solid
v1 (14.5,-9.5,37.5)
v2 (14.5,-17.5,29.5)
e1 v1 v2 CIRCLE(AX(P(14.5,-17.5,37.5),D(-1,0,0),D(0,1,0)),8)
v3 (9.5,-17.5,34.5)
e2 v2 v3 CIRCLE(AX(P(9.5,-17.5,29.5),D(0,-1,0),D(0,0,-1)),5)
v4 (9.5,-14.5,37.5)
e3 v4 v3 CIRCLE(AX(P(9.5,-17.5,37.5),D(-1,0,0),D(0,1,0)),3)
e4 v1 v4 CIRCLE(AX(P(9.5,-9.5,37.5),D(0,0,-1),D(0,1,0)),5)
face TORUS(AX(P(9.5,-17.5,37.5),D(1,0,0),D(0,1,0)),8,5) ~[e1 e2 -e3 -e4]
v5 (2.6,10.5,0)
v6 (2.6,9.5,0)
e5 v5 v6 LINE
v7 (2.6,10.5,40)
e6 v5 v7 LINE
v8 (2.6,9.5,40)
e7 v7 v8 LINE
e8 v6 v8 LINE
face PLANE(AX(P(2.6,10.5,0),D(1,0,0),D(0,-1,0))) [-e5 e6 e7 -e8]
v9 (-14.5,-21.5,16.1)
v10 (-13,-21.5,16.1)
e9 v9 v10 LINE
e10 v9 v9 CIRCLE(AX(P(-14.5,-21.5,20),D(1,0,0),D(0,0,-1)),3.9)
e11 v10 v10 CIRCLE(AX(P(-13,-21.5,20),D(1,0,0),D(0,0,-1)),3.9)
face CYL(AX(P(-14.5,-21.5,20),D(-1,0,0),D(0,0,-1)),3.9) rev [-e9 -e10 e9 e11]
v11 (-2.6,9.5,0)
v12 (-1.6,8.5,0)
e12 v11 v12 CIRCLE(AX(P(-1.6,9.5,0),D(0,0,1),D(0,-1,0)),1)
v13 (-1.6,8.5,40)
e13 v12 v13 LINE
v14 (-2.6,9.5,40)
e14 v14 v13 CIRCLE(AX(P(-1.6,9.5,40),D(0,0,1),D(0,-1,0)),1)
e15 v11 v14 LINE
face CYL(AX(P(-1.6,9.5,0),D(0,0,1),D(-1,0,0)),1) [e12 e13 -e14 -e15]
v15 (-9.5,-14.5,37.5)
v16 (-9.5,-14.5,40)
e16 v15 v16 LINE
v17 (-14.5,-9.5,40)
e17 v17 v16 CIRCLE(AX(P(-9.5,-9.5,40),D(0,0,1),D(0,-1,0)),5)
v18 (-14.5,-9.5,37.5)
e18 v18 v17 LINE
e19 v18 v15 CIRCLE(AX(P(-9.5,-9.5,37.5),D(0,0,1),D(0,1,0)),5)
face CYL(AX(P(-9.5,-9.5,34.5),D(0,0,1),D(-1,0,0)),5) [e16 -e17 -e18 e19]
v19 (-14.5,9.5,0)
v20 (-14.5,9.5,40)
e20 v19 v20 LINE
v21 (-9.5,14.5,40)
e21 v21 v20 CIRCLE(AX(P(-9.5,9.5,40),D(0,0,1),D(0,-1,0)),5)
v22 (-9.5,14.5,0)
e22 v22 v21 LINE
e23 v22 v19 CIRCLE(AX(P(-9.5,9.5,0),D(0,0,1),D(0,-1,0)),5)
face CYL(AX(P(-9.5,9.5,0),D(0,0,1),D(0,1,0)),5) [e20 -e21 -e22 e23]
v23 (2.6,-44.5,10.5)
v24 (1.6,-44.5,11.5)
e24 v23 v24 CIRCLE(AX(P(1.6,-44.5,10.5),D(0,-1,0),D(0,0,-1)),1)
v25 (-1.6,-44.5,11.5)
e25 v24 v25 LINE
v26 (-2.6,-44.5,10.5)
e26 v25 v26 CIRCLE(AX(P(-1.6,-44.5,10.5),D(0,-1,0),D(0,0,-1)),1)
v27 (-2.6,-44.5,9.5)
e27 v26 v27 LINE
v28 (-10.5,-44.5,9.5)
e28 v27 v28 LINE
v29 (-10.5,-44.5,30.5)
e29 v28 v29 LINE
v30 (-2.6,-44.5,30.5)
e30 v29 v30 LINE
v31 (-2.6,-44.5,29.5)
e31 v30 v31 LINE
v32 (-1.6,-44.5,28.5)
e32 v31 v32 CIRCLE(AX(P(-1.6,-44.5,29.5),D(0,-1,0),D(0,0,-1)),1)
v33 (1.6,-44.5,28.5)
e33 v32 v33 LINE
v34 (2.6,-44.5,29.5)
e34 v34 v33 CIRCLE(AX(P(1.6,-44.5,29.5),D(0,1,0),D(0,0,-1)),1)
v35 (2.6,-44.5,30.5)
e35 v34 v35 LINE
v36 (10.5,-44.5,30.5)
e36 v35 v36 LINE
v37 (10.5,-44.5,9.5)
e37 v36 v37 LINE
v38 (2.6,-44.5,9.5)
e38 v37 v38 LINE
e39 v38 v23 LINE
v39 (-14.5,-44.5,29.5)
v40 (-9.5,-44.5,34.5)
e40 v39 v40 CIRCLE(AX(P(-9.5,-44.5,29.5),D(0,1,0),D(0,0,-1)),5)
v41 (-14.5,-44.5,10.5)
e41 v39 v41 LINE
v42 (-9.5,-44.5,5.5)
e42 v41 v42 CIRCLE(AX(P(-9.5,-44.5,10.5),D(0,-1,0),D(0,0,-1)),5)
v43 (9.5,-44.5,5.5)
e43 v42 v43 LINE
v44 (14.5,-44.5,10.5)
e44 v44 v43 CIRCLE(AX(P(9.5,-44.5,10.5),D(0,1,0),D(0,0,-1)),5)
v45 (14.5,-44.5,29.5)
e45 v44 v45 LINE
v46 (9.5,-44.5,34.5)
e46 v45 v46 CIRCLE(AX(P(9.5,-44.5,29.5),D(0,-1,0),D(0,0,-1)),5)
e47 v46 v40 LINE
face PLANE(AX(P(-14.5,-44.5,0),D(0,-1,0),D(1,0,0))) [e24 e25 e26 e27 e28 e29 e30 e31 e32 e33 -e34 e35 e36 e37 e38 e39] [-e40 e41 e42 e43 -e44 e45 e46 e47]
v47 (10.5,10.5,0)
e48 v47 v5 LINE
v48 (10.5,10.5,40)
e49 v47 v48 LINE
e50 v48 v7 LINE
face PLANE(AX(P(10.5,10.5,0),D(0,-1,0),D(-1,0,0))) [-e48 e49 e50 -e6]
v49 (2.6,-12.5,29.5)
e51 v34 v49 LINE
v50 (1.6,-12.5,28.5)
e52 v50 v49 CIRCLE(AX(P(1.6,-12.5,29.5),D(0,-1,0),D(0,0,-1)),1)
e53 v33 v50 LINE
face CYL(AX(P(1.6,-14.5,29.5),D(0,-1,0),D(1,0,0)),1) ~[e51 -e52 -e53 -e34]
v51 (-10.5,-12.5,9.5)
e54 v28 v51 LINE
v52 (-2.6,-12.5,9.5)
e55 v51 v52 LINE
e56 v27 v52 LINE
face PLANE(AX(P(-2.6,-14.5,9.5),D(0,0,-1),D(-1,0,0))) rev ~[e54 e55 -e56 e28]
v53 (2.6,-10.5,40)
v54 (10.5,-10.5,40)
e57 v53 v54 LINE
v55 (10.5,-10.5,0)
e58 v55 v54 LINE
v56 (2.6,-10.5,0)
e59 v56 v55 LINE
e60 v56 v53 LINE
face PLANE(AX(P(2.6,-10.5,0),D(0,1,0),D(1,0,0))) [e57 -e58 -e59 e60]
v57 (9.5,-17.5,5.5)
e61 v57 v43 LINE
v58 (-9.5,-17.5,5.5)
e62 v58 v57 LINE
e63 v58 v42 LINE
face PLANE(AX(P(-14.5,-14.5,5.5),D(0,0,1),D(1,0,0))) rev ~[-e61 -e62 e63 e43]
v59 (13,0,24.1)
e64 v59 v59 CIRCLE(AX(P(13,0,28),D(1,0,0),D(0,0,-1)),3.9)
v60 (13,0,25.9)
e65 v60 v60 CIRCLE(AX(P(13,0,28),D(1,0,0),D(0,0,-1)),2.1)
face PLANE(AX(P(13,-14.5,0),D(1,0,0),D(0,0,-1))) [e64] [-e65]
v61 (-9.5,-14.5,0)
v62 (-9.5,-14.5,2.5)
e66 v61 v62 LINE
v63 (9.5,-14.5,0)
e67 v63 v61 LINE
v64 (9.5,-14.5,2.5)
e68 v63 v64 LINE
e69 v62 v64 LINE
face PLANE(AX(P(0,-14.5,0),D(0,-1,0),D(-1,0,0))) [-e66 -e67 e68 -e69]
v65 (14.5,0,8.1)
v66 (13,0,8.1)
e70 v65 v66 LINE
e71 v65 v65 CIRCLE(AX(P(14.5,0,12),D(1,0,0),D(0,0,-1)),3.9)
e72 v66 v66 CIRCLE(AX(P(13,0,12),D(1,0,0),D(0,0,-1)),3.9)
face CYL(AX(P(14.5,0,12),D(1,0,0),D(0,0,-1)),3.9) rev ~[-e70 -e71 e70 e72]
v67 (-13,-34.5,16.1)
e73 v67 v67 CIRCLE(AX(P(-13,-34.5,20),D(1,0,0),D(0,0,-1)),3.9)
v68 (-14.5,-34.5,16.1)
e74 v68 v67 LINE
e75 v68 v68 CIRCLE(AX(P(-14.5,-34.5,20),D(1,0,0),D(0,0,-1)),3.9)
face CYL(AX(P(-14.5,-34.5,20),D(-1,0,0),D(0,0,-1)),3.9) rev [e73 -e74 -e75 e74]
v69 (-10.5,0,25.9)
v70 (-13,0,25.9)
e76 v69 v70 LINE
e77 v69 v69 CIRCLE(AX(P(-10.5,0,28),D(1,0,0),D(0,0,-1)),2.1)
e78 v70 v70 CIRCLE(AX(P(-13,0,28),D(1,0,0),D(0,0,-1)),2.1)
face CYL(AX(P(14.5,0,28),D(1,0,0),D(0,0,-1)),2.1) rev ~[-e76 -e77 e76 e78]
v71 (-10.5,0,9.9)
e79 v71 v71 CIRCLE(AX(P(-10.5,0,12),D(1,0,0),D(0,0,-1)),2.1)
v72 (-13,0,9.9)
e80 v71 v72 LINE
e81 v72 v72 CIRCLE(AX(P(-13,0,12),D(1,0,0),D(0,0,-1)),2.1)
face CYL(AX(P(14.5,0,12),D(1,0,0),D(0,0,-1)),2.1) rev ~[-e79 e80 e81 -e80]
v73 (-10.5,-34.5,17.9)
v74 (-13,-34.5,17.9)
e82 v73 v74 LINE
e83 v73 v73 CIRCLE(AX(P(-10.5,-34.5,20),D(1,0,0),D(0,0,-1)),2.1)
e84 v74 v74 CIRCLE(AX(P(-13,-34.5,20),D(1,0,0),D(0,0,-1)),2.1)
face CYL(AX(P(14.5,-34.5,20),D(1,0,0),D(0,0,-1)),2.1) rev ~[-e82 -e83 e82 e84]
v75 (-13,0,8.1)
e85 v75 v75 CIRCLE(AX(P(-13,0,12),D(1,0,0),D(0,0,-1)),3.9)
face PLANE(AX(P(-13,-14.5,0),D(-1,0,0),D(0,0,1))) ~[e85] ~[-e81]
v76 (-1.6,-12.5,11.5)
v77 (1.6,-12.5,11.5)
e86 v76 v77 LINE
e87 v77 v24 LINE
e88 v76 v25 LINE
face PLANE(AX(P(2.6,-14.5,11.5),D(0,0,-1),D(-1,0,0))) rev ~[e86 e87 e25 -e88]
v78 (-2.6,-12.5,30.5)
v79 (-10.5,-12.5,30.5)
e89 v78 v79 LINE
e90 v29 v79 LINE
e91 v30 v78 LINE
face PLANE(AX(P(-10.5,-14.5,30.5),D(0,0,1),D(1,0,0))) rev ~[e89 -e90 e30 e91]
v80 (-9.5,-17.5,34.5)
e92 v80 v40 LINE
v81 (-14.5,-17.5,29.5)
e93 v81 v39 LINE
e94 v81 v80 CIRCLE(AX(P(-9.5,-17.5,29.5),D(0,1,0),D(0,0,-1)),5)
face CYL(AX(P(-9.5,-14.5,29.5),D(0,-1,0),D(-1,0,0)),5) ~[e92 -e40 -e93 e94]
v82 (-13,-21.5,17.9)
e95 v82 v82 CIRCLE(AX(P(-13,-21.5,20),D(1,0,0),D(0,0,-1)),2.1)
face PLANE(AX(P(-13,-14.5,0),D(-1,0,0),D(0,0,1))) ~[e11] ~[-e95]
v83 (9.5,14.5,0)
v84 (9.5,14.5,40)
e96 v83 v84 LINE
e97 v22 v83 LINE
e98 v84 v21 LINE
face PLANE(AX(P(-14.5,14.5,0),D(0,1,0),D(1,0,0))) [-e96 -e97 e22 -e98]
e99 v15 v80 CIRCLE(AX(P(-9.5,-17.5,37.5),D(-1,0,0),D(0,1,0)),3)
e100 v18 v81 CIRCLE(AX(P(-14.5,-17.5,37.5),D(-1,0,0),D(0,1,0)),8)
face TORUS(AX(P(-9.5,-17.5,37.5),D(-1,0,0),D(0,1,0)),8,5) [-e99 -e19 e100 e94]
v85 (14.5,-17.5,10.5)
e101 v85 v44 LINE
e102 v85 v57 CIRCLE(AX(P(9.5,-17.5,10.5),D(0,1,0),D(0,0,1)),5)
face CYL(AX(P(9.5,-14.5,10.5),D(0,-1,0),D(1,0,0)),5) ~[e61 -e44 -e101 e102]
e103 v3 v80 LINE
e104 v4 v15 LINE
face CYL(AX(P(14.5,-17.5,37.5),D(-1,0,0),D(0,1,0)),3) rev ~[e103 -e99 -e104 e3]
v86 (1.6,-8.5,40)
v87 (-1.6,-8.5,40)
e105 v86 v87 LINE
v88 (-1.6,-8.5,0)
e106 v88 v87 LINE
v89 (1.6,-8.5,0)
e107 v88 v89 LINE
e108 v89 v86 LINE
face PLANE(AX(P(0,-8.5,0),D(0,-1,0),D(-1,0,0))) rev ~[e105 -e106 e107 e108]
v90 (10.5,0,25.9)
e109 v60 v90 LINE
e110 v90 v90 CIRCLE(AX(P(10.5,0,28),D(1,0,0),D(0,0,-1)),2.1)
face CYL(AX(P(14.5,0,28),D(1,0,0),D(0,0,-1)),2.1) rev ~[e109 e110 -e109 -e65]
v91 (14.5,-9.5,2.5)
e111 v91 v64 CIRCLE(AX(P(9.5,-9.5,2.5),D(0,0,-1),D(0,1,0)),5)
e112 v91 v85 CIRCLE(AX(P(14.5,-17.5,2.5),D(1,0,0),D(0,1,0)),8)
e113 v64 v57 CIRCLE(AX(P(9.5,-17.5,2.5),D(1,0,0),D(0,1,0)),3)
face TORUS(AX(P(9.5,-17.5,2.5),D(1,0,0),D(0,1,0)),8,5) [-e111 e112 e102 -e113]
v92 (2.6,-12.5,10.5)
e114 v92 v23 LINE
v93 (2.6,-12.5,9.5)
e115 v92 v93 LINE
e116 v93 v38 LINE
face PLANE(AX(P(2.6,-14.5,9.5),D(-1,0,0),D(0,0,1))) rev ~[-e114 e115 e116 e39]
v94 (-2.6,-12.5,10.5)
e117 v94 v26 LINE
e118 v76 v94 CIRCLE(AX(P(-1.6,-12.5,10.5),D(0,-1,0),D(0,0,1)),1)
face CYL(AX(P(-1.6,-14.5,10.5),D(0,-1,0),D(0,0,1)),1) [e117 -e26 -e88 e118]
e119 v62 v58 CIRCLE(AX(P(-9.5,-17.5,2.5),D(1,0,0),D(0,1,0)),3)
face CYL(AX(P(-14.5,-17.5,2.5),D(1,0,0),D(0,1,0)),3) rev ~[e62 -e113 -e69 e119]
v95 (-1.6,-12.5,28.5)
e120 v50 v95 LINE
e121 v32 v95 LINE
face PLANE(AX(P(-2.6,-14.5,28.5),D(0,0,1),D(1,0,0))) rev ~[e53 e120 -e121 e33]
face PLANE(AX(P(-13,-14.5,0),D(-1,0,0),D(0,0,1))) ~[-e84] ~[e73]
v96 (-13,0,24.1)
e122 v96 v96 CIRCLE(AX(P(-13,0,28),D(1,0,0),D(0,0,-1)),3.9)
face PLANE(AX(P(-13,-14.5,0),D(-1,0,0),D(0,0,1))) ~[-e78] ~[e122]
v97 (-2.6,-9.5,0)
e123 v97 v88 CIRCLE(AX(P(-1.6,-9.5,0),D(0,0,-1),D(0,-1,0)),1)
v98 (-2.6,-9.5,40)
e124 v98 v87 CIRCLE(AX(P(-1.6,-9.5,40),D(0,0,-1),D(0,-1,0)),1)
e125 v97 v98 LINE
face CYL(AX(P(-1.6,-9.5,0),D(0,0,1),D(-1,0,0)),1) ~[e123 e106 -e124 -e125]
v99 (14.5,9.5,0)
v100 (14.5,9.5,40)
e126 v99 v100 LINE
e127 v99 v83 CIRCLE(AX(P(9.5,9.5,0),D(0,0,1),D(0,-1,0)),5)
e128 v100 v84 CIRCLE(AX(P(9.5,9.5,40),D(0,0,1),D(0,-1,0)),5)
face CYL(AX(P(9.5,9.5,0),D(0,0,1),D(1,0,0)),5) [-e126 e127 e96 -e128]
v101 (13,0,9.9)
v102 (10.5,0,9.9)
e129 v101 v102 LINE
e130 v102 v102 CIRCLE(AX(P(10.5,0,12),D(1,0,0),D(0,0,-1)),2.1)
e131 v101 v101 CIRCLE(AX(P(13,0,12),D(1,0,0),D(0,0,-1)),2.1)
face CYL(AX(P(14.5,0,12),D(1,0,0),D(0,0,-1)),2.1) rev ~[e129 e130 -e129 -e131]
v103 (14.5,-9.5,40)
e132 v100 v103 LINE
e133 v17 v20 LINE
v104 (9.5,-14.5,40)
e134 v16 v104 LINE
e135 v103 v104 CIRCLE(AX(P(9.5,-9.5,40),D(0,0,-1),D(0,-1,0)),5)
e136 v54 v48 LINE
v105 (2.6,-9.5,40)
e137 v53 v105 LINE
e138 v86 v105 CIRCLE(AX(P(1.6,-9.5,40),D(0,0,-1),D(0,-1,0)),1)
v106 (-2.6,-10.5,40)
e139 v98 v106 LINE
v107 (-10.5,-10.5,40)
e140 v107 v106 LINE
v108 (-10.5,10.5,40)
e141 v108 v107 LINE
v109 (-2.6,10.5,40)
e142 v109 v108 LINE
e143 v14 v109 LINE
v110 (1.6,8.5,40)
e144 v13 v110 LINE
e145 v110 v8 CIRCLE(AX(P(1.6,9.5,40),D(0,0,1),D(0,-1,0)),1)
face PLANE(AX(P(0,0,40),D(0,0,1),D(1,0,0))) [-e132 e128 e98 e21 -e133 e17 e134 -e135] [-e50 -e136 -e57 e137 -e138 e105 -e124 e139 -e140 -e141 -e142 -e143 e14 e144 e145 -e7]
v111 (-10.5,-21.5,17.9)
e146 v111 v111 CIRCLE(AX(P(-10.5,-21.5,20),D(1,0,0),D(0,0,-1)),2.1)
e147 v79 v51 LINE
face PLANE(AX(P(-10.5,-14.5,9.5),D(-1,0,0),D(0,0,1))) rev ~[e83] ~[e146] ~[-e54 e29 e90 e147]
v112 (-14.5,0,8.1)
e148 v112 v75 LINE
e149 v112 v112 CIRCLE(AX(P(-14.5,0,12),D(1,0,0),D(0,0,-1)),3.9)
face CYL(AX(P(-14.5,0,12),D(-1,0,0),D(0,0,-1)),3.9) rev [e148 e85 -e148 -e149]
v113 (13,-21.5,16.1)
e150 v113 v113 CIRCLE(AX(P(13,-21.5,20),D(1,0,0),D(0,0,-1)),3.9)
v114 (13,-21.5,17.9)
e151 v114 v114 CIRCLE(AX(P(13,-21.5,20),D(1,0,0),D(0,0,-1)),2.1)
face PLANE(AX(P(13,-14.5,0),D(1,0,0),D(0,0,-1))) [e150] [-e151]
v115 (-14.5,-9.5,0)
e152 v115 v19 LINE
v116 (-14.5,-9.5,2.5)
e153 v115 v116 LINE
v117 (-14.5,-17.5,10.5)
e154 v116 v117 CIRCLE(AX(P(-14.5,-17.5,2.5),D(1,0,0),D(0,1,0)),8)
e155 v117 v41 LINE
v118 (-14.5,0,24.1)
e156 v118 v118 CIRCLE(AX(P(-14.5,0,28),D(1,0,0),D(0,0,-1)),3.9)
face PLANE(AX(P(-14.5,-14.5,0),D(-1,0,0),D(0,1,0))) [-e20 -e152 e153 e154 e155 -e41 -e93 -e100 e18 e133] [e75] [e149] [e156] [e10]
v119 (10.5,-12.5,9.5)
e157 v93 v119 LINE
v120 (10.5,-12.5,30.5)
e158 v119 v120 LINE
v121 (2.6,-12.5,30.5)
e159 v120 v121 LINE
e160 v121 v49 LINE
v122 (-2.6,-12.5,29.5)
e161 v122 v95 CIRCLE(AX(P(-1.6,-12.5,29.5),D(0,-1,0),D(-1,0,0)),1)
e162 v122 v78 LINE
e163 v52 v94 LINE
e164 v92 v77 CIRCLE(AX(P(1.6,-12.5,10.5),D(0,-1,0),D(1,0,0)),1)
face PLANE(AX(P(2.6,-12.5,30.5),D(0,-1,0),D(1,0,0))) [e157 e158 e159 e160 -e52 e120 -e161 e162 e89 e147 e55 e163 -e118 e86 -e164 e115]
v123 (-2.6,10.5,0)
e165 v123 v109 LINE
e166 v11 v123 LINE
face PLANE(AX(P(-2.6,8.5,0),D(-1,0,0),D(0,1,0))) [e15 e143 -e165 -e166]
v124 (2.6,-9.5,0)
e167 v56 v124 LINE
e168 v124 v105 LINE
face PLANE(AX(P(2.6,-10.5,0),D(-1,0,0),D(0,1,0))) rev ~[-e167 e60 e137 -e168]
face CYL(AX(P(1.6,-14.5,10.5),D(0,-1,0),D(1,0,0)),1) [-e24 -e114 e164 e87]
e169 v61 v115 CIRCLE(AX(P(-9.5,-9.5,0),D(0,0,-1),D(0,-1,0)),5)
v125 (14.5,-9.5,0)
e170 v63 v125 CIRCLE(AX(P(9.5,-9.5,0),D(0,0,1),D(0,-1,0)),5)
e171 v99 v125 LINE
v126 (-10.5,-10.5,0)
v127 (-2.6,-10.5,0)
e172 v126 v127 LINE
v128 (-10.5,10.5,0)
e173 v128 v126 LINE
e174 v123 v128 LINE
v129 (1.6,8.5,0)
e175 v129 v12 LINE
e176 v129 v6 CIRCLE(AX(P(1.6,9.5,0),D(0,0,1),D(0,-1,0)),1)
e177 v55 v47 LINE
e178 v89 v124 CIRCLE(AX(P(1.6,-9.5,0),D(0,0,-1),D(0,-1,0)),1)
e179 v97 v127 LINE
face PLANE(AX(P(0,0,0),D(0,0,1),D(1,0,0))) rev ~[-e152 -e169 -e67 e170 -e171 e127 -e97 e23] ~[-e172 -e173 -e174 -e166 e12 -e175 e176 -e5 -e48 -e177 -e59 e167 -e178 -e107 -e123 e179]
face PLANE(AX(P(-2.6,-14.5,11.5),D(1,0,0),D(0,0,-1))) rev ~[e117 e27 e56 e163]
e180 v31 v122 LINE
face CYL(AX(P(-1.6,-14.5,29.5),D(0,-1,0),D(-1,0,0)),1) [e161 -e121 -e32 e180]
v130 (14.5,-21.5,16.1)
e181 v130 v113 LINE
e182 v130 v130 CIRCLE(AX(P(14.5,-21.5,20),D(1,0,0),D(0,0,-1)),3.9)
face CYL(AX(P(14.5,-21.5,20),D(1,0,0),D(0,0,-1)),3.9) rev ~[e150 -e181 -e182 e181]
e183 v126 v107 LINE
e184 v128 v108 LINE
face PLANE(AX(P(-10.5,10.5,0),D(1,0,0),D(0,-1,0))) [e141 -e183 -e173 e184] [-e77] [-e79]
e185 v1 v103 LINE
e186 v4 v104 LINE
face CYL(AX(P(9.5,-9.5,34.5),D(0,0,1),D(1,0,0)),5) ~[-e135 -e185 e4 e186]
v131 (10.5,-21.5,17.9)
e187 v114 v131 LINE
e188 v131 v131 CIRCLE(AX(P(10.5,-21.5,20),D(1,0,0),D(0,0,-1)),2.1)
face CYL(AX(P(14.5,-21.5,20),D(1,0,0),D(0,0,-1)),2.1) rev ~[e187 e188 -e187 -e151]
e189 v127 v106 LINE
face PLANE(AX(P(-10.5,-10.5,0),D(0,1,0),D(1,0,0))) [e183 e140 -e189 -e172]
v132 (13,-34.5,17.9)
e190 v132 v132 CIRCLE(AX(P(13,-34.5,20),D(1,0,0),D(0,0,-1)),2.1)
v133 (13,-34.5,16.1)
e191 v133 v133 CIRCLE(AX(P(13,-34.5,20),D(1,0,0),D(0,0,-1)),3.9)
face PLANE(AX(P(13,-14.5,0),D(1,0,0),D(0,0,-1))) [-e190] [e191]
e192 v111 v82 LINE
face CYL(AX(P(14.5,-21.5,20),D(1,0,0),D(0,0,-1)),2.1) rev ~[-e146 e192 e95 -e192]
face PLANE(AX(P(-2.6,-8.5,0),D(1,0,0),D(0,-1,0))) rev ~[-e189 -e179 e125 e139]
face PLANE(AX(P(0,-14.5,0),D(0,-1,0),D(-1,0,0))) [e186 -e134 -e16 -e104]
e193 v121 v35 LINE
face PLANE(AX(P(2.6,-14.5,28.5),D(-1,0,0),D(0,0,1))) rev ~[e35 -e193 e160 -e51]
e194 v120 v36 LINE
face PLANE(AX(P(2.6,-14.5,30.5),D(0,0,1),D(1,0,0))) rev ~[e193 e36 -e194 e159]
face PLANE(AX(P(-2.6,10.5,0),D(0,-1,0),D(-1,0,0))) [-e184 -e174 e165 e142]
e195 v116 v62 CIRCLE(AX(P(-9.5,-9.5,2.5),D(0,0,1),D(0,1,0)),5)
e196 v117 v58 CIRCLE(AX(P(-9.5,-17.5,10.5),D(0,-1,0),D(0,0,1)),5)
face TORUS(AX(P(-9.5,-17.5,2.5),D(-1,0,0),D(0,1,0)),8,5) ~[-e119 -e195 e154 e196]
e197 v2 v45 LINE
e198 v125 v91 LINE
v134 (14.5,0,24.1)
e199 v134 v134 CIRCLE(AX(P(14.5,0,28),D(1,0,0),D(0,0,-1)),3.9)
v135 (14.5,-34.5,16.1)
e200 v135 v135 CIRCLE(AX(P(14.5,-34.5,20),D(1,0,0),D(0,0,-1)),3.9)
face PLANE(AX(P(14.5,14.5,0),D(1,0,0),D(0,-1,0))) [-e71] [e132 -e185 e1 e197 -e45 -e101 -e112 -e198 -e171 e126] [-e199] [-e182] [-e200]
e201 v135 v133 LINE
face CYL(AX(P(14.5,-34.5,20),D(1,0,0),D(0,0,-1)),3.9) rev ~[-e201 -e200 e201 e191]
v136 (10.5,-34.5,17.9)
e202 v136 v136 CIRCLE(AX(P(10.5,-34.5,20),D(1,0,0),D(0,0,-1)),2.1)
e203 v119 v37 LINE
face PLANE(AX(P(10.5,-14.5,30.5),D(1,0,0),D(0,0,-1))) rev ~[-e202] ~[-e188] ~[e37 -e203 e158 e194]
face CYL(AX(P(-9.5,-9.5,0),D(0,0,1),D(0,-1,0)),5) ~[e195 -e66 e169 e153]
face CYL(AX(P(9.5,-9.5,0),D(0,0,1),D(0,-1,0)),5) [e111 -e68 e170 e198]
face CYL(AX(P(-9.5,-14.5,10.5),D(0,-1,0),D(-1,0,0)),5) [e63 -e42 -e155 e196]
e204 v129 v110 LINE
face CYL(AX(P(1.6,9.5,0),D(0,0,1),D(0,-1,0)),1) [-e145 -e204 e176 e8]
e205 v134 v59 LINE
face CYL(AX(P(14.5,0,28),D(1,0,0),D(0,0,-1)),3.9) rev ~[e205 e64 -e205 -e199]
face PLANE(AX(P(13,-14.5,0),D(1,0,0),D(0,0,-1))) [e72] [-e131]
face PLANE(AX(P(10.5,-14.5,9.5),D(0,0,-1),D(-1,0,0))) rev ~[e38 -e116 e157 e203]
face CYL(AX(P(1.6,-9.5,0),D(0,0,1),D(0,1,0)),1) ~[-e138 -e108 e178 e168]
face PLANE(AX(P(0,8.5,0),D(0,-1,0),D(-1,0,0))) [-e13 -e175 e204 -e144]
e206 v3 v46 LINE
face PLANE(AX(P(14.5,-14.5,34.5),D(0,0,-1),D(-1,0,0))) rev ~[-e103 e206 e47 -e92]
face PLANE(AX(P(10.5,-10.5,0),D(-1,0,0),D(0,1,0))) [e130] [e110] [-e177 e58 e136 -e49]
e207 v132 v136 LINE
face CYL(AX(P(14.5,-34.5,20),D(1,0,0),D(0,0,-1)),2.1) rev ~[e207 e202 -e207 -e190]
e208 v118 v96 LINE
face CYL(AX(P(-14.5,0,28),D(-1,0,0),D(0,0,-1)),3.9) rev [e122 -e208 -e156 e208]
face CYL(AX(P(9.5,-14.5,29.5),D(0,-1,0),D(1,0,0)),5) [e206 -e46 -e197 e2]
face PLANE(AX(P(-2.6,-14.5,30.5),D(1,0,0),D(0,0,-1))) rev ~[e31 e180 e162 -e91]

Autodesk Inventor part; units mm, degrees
ref_plane "YZ Plane" through (0, 0, 0) normal (1, 0, 0) x (0, 1, 0)
ref_plane "XZ Plane" through (0, 0, 0) normal (0, 1, 0) x (-1, 0, 0)
sketch "스케치1" plane through (0, 0, 0) normal (0, 0, 1) x (1, 0, 0)
  line L0 (-10.5, -10.5) -> (10.5, -10.5)
  line L1 (10.5, -10.5) -> (10.5, 10.5)
  line L2 (10.5, 10.5) -> (-10.5, 10.5)
  line L3 (-10.5, 10.5) -> (-10.5, -10.5)
  line L4 (-10.5, -10.5) -> (10.5, 10.5) construction
  line L5 (10.5, -10.5) -> (-10.5, 10.5) construction
  line L6 (-2.6, 10.5) -> (2.6, 10.5)
  line L7 (2.6, 10.5) -> (2.6, 8.5)
  line L8 (2.6, 8.5) -> (-2.6, 8.5)
  line L9 (-2.6, 8.5) -> (-2.6, 10.5)
  line L10 (-2.6, -10.5) -> (2.6, -10.5)
  line L11 (2.6, -10.5) -> (2.6, -8.5)
  line L12 (2.6, -8.5) -> (-2.6, -8.5)
  line L13 (-2.6, -8.5) -> (-2.6, -10.5)
  line L14 (0, -20.3) -> (0, 20.3) projected
  line L15 (-14.5, 14.5) -> (14.5, 14.5)
  line L16 (14.5, 14.5) -> (14.5, -14.5)
  line L17 (14.5, -14.5) -> (-14.5, -14.5)
  line L18 (-14.5, -14.5) -> (-14.5, 14.5)
  point P0 (0, 0)
  dimension "d0" = 21
  dimension "d1" = 5.2
  dimension "d2" = 2
  dimension "d3" = 4
extrude "돌출1" add sketch "스케치1" along normal blind 40 contours L0 L14 L17 L18 L15 L2 L3 | L13 L12 L14 L0 | L14 L12 L11 L0 | L0 L1 L2 L14 L15 L16 L17 | L2 L14 L8 L9 | L2 L7 L8 L14
sketch "스케치2" plane through (-14.5, -14.5, 0) normal (0, -1, 0) x (1, 0, 0)
  line L0 (29, 40) -> (0, 40) projected
  line L1 (0, 40) -> (29, 0) construction
  line L2 (29, 0) -> (0, 0) projected
  line L3 (29, 40) -> (0, 0) construction
  line L4 (4, 30.5) -> (25, 30.5)
  line L5 (25, 30.5) -> (25, 9.5)
  line L6 (25, 9.5) -> (4, 9.5)
  line L7 (4, 9.5) -> (4, 30.5)
  line L8 (4, 30.5) -> (25, 9.5) construction
  line L9 (25, 30.5) -> (4, 9.5) construction
  line L10 (29, 5.5) -> (29, 34.5)
  line L11 (29, 34.5) -> (0, 34.5)
  line L12 (0, 34.5) -> (0, 5.5)
  line L13 (0, 5.5) -> (29, 5.5)
  line L14 (11.9, 28.5) -> (17.1, 28.5)
  line L15 (17.1, 28.5) -> (17.1, 30.5)
  line L16 (17.1, 30.5) -> (11.9, 30.5)
  line L17 (11.9, 30.5) -> (11.9, 28.5)
  line L18 (11.9, 28.5) -> (17.1, 30.5) construction
  line L19 (17.1, 28.5) -> (11.9, 30.5) construction
  line L20 (11.9, 9.5) -> (17.1, 9.5)
  line L21 (17.1, 9.5) -> (17.1, 11.5)
  line L22 (17.1, 11.5) -> (11.9, 11.5)
  line L23 (11.9, 11.5) -> (11.9, 9.5)
  line L24 (11.9, 9.5) -> (17.1, 11.5) construction
  line L25 (17.1, 9.5) -> (11.9, 11.5) construction
  point P0 (14.5, 0)
  point P1 (14.5, 20)
  point P2 (14.5, 29.5)
  point P3 (14.5, 10.5)
  point P4 (14.5, 29.5)
  point P5 (14.5, 20)
  point P6 (14.5, 10.5)
  point P7 (14.5, 20)
  point P8 (11.9, 30.5)
  dimension "d6" = 21
  dimension "d7" = 4
  dimension "d8" = 2
  dimension "d9" = 5.2
extrude "돌출2" add sketch "스케치2" along normal blind 30 contours L4 L15 L14 L17 | L23 L22 L21 L6 | L13 L12 L11 L10
sketch "스케치3" plane through (14.5, -14.5, 0) normal (1, 0, 0) x (0, 0, -1)
  line L0 (0, 25) -> (0, 4) projected
  line L1 (0, 4) -> (-40, 4) projected
  line L2 (-40, 25) -> (-40, 4) projected
  line L3 (0, 25) -> (-40, 25) projected
  line L4 (-9.5, 0) -> (-30.5, 0) projected
  line L5 (-9.5, 0) -> (-9.5, -30) projected
  line L6 (-30.5, -30) -> (-9.5, -30) projected
  line L7 (-30.5, 0) -> (-30.5, -30) projected
  circle A0 centre (-12, 14.5) radius 10.5 construction
  circle A1 centre (-12, 14.5) radius 2.1
  circle A2 centre (-28, 14.5) radius 2.1
  circle A3 centre (-20, -7) radius 10.5 construction
  circle A4 centre (-20, -7) radius 2.1
  circle A5 centre (-20, -20) radius 2.1
  point P0 (0, 14.5)
  dimension "d12" = 4.2
  dimension "d13" = 12
  dimension "d14" = 12
  dimension "d15" = 7
  dimension "d16" = 10
extrude "돌출3" cut sketch "스케치3" against normal through all contours A1 | A2 | A4 | A5
sketch "스케치4" plane through (14.5, -14.5, 0) normal (1, 0, 0) x (0, 0, -1)
  circle A0 centre (-28, 14.5) radius 2.1 projected
  circle A1 centre (-12, 14.5) radius 2.1 projected
  line L0 (0, 0) -> (0, 29) projected
  line L1 (0, 29) -> (-40, 29) projected
  line L2 (-40, 0) -> (-40, 29) projected
  line L3 (-34.5, 0) -> (-40, 0) projected
  circle A2 centre (-12, 14.5) radius 3.9
  circle A3 centre (-28, 14.5) radius 3.9
  circle A4 centre (-20, -7) radius 3.9
  circle A5 centre (-20, -20) radius 3.9
  line L4 (-34.5, 0) -> (-34.5, -30) projected
  line L5 (-5.5, -30) -> (-34.5, -30) projected
  line L6 (-5.5, 0) -> (-5.5, -30) projected
  line L7 (0, 0) -> (-5.5, 0) projected
  point P0 (0, 14.5)
  dimension "d19" = 7.8
extrude "돌출4" cut sketch "스케치4" against normal blind 1.5 contours A2 | A3 | A4 | A5
ref_plane "작업 평면1" through (0, -10.5, 0) normal (1, 0, 0) x (0, 0, -1)
mirror "미러1" about plane through (0, -10.5, 0) normal (1, 0, 0) of "돌출4"
fillet "모깎기1" radius 5 10 edges at (14.5, -14.5, 2.75) (14.5, -29.5, 5.5) (-14.5, -14.5, 2.75) (-14.5, -29.5, 5.5) (14.5, -14.5, 37.25) (-14.5, -14.5, 37.25) (-14.5, -29.5, 34.5) (14.5, -29.5, 34.5) (14.5, 14.5, 20) (-14.5, 14.5, 20)
fillet "모깎기1" radius 3 2 edges at (0, -14.5, 34.5) (0, -14.5, 5.5)
fillet "모깎기1" radius 1 8 edges at (2.6, 8.5, 20) (-2.6, 8.5, 20) (2.6, -8.5, 20) (-2.6, -8.5, 20) (2.6, -29.5, 11.5) (-2.6, -29.5, 11.5) (-2.6, -29.5, 28.5) (2.6, -29.5, 28.5)
sketch "스케치5" plane through (2.6, -14.5, 30.5) normal (0, -1, 0) x (1, 0, 0)
  line L0 (7.9, 0) -> (0, 0) projected
  line L1 (0, 0) -> (0, -1) projected
  arc A0 (-1, -2) -> (0, -1) centre (-1, -1) ccw projected
  line L2 (-1, -2) -> (-4.2, -2) projected
  arc A1 (-5.2, -1) -> (-4.2, -2) centre (-4.2, -1) ccw projected
  line L3 (-5.2, -1) -> (-5.2, 0) projected
  line L4 (-5.2, 0) -> (-13.1, 0) projected
  line L5 (-13.1, 0) -> (-13.1, -21) projected
  line L6 (-13.1, -21) -> (-5.2, -21) projected
  line L7 (-5.2, -21) -> (-5.2, -20) projected
  arc A2 (-4.2, -19) -> (-5.2, -20) centre (-4.2, -20) ccw projected
  line L8 (-4.2, -19) -> (-1, -19) projected
  arc A3 (0, -20) -> (-1, -19) centre (-1, -20) ccw projected
  line L9 (0, -20) -> (0, -21) projected
  line L10 (0, -21) -> (7.9, -21) projected
  line L11 (7.9, -21) -> (7.9, 0) projected
  line L12 (-10.6, -18.5) -> (-10.6, -2.5)
  line L13 (-10.6, -2.5) -> (-7.3623, -2.5)
  arc A4 (-7.3623, -2.5) -> (-4.2, -4.5) centre (-4.2, -1) ccw
  line L14 (-4.2, -4.5) -> (-1, -4.5)
  arc A5 (-1, -4.5) -> (2.1623, -2.5) centre (-1, -1) ccw
  line L15 (2.1623, -2.5) -> (5.4, -2.5)
  line L16 (5.4, -2.5) -> (5.4, -18.5)
  line L17 (5.4, -18.5) -> (2.1623, -18.5)
  arc A6 (2.1623, -18.5) -> (-1, -16.5) centre (-1, -20) ccw
  line L18 (-1, -16.5) -> (-4.2, -16.5)
  arc A7 (-4.2, -16.5) -> (-7.3623, -18.5) centre (-4.2, -20) ccw
  line L19 (-7.3623, -18.5) -> (-10.6, -18.5)
  point P0 (-2.6, -30.5)
  dimension "d25" = 2.5
extrude "돌출5" cut sketch "스케치5" against normal blind 2 contours L11 L10 L9 A3 L8 A2 L7 L6 L5 L4 L3 A1 L2 A0 L1 L0 | L12 L13 A4 L14 A5 L15 L16 L17 A6 L18 A7 L19
properties part number "profile_bracket"
